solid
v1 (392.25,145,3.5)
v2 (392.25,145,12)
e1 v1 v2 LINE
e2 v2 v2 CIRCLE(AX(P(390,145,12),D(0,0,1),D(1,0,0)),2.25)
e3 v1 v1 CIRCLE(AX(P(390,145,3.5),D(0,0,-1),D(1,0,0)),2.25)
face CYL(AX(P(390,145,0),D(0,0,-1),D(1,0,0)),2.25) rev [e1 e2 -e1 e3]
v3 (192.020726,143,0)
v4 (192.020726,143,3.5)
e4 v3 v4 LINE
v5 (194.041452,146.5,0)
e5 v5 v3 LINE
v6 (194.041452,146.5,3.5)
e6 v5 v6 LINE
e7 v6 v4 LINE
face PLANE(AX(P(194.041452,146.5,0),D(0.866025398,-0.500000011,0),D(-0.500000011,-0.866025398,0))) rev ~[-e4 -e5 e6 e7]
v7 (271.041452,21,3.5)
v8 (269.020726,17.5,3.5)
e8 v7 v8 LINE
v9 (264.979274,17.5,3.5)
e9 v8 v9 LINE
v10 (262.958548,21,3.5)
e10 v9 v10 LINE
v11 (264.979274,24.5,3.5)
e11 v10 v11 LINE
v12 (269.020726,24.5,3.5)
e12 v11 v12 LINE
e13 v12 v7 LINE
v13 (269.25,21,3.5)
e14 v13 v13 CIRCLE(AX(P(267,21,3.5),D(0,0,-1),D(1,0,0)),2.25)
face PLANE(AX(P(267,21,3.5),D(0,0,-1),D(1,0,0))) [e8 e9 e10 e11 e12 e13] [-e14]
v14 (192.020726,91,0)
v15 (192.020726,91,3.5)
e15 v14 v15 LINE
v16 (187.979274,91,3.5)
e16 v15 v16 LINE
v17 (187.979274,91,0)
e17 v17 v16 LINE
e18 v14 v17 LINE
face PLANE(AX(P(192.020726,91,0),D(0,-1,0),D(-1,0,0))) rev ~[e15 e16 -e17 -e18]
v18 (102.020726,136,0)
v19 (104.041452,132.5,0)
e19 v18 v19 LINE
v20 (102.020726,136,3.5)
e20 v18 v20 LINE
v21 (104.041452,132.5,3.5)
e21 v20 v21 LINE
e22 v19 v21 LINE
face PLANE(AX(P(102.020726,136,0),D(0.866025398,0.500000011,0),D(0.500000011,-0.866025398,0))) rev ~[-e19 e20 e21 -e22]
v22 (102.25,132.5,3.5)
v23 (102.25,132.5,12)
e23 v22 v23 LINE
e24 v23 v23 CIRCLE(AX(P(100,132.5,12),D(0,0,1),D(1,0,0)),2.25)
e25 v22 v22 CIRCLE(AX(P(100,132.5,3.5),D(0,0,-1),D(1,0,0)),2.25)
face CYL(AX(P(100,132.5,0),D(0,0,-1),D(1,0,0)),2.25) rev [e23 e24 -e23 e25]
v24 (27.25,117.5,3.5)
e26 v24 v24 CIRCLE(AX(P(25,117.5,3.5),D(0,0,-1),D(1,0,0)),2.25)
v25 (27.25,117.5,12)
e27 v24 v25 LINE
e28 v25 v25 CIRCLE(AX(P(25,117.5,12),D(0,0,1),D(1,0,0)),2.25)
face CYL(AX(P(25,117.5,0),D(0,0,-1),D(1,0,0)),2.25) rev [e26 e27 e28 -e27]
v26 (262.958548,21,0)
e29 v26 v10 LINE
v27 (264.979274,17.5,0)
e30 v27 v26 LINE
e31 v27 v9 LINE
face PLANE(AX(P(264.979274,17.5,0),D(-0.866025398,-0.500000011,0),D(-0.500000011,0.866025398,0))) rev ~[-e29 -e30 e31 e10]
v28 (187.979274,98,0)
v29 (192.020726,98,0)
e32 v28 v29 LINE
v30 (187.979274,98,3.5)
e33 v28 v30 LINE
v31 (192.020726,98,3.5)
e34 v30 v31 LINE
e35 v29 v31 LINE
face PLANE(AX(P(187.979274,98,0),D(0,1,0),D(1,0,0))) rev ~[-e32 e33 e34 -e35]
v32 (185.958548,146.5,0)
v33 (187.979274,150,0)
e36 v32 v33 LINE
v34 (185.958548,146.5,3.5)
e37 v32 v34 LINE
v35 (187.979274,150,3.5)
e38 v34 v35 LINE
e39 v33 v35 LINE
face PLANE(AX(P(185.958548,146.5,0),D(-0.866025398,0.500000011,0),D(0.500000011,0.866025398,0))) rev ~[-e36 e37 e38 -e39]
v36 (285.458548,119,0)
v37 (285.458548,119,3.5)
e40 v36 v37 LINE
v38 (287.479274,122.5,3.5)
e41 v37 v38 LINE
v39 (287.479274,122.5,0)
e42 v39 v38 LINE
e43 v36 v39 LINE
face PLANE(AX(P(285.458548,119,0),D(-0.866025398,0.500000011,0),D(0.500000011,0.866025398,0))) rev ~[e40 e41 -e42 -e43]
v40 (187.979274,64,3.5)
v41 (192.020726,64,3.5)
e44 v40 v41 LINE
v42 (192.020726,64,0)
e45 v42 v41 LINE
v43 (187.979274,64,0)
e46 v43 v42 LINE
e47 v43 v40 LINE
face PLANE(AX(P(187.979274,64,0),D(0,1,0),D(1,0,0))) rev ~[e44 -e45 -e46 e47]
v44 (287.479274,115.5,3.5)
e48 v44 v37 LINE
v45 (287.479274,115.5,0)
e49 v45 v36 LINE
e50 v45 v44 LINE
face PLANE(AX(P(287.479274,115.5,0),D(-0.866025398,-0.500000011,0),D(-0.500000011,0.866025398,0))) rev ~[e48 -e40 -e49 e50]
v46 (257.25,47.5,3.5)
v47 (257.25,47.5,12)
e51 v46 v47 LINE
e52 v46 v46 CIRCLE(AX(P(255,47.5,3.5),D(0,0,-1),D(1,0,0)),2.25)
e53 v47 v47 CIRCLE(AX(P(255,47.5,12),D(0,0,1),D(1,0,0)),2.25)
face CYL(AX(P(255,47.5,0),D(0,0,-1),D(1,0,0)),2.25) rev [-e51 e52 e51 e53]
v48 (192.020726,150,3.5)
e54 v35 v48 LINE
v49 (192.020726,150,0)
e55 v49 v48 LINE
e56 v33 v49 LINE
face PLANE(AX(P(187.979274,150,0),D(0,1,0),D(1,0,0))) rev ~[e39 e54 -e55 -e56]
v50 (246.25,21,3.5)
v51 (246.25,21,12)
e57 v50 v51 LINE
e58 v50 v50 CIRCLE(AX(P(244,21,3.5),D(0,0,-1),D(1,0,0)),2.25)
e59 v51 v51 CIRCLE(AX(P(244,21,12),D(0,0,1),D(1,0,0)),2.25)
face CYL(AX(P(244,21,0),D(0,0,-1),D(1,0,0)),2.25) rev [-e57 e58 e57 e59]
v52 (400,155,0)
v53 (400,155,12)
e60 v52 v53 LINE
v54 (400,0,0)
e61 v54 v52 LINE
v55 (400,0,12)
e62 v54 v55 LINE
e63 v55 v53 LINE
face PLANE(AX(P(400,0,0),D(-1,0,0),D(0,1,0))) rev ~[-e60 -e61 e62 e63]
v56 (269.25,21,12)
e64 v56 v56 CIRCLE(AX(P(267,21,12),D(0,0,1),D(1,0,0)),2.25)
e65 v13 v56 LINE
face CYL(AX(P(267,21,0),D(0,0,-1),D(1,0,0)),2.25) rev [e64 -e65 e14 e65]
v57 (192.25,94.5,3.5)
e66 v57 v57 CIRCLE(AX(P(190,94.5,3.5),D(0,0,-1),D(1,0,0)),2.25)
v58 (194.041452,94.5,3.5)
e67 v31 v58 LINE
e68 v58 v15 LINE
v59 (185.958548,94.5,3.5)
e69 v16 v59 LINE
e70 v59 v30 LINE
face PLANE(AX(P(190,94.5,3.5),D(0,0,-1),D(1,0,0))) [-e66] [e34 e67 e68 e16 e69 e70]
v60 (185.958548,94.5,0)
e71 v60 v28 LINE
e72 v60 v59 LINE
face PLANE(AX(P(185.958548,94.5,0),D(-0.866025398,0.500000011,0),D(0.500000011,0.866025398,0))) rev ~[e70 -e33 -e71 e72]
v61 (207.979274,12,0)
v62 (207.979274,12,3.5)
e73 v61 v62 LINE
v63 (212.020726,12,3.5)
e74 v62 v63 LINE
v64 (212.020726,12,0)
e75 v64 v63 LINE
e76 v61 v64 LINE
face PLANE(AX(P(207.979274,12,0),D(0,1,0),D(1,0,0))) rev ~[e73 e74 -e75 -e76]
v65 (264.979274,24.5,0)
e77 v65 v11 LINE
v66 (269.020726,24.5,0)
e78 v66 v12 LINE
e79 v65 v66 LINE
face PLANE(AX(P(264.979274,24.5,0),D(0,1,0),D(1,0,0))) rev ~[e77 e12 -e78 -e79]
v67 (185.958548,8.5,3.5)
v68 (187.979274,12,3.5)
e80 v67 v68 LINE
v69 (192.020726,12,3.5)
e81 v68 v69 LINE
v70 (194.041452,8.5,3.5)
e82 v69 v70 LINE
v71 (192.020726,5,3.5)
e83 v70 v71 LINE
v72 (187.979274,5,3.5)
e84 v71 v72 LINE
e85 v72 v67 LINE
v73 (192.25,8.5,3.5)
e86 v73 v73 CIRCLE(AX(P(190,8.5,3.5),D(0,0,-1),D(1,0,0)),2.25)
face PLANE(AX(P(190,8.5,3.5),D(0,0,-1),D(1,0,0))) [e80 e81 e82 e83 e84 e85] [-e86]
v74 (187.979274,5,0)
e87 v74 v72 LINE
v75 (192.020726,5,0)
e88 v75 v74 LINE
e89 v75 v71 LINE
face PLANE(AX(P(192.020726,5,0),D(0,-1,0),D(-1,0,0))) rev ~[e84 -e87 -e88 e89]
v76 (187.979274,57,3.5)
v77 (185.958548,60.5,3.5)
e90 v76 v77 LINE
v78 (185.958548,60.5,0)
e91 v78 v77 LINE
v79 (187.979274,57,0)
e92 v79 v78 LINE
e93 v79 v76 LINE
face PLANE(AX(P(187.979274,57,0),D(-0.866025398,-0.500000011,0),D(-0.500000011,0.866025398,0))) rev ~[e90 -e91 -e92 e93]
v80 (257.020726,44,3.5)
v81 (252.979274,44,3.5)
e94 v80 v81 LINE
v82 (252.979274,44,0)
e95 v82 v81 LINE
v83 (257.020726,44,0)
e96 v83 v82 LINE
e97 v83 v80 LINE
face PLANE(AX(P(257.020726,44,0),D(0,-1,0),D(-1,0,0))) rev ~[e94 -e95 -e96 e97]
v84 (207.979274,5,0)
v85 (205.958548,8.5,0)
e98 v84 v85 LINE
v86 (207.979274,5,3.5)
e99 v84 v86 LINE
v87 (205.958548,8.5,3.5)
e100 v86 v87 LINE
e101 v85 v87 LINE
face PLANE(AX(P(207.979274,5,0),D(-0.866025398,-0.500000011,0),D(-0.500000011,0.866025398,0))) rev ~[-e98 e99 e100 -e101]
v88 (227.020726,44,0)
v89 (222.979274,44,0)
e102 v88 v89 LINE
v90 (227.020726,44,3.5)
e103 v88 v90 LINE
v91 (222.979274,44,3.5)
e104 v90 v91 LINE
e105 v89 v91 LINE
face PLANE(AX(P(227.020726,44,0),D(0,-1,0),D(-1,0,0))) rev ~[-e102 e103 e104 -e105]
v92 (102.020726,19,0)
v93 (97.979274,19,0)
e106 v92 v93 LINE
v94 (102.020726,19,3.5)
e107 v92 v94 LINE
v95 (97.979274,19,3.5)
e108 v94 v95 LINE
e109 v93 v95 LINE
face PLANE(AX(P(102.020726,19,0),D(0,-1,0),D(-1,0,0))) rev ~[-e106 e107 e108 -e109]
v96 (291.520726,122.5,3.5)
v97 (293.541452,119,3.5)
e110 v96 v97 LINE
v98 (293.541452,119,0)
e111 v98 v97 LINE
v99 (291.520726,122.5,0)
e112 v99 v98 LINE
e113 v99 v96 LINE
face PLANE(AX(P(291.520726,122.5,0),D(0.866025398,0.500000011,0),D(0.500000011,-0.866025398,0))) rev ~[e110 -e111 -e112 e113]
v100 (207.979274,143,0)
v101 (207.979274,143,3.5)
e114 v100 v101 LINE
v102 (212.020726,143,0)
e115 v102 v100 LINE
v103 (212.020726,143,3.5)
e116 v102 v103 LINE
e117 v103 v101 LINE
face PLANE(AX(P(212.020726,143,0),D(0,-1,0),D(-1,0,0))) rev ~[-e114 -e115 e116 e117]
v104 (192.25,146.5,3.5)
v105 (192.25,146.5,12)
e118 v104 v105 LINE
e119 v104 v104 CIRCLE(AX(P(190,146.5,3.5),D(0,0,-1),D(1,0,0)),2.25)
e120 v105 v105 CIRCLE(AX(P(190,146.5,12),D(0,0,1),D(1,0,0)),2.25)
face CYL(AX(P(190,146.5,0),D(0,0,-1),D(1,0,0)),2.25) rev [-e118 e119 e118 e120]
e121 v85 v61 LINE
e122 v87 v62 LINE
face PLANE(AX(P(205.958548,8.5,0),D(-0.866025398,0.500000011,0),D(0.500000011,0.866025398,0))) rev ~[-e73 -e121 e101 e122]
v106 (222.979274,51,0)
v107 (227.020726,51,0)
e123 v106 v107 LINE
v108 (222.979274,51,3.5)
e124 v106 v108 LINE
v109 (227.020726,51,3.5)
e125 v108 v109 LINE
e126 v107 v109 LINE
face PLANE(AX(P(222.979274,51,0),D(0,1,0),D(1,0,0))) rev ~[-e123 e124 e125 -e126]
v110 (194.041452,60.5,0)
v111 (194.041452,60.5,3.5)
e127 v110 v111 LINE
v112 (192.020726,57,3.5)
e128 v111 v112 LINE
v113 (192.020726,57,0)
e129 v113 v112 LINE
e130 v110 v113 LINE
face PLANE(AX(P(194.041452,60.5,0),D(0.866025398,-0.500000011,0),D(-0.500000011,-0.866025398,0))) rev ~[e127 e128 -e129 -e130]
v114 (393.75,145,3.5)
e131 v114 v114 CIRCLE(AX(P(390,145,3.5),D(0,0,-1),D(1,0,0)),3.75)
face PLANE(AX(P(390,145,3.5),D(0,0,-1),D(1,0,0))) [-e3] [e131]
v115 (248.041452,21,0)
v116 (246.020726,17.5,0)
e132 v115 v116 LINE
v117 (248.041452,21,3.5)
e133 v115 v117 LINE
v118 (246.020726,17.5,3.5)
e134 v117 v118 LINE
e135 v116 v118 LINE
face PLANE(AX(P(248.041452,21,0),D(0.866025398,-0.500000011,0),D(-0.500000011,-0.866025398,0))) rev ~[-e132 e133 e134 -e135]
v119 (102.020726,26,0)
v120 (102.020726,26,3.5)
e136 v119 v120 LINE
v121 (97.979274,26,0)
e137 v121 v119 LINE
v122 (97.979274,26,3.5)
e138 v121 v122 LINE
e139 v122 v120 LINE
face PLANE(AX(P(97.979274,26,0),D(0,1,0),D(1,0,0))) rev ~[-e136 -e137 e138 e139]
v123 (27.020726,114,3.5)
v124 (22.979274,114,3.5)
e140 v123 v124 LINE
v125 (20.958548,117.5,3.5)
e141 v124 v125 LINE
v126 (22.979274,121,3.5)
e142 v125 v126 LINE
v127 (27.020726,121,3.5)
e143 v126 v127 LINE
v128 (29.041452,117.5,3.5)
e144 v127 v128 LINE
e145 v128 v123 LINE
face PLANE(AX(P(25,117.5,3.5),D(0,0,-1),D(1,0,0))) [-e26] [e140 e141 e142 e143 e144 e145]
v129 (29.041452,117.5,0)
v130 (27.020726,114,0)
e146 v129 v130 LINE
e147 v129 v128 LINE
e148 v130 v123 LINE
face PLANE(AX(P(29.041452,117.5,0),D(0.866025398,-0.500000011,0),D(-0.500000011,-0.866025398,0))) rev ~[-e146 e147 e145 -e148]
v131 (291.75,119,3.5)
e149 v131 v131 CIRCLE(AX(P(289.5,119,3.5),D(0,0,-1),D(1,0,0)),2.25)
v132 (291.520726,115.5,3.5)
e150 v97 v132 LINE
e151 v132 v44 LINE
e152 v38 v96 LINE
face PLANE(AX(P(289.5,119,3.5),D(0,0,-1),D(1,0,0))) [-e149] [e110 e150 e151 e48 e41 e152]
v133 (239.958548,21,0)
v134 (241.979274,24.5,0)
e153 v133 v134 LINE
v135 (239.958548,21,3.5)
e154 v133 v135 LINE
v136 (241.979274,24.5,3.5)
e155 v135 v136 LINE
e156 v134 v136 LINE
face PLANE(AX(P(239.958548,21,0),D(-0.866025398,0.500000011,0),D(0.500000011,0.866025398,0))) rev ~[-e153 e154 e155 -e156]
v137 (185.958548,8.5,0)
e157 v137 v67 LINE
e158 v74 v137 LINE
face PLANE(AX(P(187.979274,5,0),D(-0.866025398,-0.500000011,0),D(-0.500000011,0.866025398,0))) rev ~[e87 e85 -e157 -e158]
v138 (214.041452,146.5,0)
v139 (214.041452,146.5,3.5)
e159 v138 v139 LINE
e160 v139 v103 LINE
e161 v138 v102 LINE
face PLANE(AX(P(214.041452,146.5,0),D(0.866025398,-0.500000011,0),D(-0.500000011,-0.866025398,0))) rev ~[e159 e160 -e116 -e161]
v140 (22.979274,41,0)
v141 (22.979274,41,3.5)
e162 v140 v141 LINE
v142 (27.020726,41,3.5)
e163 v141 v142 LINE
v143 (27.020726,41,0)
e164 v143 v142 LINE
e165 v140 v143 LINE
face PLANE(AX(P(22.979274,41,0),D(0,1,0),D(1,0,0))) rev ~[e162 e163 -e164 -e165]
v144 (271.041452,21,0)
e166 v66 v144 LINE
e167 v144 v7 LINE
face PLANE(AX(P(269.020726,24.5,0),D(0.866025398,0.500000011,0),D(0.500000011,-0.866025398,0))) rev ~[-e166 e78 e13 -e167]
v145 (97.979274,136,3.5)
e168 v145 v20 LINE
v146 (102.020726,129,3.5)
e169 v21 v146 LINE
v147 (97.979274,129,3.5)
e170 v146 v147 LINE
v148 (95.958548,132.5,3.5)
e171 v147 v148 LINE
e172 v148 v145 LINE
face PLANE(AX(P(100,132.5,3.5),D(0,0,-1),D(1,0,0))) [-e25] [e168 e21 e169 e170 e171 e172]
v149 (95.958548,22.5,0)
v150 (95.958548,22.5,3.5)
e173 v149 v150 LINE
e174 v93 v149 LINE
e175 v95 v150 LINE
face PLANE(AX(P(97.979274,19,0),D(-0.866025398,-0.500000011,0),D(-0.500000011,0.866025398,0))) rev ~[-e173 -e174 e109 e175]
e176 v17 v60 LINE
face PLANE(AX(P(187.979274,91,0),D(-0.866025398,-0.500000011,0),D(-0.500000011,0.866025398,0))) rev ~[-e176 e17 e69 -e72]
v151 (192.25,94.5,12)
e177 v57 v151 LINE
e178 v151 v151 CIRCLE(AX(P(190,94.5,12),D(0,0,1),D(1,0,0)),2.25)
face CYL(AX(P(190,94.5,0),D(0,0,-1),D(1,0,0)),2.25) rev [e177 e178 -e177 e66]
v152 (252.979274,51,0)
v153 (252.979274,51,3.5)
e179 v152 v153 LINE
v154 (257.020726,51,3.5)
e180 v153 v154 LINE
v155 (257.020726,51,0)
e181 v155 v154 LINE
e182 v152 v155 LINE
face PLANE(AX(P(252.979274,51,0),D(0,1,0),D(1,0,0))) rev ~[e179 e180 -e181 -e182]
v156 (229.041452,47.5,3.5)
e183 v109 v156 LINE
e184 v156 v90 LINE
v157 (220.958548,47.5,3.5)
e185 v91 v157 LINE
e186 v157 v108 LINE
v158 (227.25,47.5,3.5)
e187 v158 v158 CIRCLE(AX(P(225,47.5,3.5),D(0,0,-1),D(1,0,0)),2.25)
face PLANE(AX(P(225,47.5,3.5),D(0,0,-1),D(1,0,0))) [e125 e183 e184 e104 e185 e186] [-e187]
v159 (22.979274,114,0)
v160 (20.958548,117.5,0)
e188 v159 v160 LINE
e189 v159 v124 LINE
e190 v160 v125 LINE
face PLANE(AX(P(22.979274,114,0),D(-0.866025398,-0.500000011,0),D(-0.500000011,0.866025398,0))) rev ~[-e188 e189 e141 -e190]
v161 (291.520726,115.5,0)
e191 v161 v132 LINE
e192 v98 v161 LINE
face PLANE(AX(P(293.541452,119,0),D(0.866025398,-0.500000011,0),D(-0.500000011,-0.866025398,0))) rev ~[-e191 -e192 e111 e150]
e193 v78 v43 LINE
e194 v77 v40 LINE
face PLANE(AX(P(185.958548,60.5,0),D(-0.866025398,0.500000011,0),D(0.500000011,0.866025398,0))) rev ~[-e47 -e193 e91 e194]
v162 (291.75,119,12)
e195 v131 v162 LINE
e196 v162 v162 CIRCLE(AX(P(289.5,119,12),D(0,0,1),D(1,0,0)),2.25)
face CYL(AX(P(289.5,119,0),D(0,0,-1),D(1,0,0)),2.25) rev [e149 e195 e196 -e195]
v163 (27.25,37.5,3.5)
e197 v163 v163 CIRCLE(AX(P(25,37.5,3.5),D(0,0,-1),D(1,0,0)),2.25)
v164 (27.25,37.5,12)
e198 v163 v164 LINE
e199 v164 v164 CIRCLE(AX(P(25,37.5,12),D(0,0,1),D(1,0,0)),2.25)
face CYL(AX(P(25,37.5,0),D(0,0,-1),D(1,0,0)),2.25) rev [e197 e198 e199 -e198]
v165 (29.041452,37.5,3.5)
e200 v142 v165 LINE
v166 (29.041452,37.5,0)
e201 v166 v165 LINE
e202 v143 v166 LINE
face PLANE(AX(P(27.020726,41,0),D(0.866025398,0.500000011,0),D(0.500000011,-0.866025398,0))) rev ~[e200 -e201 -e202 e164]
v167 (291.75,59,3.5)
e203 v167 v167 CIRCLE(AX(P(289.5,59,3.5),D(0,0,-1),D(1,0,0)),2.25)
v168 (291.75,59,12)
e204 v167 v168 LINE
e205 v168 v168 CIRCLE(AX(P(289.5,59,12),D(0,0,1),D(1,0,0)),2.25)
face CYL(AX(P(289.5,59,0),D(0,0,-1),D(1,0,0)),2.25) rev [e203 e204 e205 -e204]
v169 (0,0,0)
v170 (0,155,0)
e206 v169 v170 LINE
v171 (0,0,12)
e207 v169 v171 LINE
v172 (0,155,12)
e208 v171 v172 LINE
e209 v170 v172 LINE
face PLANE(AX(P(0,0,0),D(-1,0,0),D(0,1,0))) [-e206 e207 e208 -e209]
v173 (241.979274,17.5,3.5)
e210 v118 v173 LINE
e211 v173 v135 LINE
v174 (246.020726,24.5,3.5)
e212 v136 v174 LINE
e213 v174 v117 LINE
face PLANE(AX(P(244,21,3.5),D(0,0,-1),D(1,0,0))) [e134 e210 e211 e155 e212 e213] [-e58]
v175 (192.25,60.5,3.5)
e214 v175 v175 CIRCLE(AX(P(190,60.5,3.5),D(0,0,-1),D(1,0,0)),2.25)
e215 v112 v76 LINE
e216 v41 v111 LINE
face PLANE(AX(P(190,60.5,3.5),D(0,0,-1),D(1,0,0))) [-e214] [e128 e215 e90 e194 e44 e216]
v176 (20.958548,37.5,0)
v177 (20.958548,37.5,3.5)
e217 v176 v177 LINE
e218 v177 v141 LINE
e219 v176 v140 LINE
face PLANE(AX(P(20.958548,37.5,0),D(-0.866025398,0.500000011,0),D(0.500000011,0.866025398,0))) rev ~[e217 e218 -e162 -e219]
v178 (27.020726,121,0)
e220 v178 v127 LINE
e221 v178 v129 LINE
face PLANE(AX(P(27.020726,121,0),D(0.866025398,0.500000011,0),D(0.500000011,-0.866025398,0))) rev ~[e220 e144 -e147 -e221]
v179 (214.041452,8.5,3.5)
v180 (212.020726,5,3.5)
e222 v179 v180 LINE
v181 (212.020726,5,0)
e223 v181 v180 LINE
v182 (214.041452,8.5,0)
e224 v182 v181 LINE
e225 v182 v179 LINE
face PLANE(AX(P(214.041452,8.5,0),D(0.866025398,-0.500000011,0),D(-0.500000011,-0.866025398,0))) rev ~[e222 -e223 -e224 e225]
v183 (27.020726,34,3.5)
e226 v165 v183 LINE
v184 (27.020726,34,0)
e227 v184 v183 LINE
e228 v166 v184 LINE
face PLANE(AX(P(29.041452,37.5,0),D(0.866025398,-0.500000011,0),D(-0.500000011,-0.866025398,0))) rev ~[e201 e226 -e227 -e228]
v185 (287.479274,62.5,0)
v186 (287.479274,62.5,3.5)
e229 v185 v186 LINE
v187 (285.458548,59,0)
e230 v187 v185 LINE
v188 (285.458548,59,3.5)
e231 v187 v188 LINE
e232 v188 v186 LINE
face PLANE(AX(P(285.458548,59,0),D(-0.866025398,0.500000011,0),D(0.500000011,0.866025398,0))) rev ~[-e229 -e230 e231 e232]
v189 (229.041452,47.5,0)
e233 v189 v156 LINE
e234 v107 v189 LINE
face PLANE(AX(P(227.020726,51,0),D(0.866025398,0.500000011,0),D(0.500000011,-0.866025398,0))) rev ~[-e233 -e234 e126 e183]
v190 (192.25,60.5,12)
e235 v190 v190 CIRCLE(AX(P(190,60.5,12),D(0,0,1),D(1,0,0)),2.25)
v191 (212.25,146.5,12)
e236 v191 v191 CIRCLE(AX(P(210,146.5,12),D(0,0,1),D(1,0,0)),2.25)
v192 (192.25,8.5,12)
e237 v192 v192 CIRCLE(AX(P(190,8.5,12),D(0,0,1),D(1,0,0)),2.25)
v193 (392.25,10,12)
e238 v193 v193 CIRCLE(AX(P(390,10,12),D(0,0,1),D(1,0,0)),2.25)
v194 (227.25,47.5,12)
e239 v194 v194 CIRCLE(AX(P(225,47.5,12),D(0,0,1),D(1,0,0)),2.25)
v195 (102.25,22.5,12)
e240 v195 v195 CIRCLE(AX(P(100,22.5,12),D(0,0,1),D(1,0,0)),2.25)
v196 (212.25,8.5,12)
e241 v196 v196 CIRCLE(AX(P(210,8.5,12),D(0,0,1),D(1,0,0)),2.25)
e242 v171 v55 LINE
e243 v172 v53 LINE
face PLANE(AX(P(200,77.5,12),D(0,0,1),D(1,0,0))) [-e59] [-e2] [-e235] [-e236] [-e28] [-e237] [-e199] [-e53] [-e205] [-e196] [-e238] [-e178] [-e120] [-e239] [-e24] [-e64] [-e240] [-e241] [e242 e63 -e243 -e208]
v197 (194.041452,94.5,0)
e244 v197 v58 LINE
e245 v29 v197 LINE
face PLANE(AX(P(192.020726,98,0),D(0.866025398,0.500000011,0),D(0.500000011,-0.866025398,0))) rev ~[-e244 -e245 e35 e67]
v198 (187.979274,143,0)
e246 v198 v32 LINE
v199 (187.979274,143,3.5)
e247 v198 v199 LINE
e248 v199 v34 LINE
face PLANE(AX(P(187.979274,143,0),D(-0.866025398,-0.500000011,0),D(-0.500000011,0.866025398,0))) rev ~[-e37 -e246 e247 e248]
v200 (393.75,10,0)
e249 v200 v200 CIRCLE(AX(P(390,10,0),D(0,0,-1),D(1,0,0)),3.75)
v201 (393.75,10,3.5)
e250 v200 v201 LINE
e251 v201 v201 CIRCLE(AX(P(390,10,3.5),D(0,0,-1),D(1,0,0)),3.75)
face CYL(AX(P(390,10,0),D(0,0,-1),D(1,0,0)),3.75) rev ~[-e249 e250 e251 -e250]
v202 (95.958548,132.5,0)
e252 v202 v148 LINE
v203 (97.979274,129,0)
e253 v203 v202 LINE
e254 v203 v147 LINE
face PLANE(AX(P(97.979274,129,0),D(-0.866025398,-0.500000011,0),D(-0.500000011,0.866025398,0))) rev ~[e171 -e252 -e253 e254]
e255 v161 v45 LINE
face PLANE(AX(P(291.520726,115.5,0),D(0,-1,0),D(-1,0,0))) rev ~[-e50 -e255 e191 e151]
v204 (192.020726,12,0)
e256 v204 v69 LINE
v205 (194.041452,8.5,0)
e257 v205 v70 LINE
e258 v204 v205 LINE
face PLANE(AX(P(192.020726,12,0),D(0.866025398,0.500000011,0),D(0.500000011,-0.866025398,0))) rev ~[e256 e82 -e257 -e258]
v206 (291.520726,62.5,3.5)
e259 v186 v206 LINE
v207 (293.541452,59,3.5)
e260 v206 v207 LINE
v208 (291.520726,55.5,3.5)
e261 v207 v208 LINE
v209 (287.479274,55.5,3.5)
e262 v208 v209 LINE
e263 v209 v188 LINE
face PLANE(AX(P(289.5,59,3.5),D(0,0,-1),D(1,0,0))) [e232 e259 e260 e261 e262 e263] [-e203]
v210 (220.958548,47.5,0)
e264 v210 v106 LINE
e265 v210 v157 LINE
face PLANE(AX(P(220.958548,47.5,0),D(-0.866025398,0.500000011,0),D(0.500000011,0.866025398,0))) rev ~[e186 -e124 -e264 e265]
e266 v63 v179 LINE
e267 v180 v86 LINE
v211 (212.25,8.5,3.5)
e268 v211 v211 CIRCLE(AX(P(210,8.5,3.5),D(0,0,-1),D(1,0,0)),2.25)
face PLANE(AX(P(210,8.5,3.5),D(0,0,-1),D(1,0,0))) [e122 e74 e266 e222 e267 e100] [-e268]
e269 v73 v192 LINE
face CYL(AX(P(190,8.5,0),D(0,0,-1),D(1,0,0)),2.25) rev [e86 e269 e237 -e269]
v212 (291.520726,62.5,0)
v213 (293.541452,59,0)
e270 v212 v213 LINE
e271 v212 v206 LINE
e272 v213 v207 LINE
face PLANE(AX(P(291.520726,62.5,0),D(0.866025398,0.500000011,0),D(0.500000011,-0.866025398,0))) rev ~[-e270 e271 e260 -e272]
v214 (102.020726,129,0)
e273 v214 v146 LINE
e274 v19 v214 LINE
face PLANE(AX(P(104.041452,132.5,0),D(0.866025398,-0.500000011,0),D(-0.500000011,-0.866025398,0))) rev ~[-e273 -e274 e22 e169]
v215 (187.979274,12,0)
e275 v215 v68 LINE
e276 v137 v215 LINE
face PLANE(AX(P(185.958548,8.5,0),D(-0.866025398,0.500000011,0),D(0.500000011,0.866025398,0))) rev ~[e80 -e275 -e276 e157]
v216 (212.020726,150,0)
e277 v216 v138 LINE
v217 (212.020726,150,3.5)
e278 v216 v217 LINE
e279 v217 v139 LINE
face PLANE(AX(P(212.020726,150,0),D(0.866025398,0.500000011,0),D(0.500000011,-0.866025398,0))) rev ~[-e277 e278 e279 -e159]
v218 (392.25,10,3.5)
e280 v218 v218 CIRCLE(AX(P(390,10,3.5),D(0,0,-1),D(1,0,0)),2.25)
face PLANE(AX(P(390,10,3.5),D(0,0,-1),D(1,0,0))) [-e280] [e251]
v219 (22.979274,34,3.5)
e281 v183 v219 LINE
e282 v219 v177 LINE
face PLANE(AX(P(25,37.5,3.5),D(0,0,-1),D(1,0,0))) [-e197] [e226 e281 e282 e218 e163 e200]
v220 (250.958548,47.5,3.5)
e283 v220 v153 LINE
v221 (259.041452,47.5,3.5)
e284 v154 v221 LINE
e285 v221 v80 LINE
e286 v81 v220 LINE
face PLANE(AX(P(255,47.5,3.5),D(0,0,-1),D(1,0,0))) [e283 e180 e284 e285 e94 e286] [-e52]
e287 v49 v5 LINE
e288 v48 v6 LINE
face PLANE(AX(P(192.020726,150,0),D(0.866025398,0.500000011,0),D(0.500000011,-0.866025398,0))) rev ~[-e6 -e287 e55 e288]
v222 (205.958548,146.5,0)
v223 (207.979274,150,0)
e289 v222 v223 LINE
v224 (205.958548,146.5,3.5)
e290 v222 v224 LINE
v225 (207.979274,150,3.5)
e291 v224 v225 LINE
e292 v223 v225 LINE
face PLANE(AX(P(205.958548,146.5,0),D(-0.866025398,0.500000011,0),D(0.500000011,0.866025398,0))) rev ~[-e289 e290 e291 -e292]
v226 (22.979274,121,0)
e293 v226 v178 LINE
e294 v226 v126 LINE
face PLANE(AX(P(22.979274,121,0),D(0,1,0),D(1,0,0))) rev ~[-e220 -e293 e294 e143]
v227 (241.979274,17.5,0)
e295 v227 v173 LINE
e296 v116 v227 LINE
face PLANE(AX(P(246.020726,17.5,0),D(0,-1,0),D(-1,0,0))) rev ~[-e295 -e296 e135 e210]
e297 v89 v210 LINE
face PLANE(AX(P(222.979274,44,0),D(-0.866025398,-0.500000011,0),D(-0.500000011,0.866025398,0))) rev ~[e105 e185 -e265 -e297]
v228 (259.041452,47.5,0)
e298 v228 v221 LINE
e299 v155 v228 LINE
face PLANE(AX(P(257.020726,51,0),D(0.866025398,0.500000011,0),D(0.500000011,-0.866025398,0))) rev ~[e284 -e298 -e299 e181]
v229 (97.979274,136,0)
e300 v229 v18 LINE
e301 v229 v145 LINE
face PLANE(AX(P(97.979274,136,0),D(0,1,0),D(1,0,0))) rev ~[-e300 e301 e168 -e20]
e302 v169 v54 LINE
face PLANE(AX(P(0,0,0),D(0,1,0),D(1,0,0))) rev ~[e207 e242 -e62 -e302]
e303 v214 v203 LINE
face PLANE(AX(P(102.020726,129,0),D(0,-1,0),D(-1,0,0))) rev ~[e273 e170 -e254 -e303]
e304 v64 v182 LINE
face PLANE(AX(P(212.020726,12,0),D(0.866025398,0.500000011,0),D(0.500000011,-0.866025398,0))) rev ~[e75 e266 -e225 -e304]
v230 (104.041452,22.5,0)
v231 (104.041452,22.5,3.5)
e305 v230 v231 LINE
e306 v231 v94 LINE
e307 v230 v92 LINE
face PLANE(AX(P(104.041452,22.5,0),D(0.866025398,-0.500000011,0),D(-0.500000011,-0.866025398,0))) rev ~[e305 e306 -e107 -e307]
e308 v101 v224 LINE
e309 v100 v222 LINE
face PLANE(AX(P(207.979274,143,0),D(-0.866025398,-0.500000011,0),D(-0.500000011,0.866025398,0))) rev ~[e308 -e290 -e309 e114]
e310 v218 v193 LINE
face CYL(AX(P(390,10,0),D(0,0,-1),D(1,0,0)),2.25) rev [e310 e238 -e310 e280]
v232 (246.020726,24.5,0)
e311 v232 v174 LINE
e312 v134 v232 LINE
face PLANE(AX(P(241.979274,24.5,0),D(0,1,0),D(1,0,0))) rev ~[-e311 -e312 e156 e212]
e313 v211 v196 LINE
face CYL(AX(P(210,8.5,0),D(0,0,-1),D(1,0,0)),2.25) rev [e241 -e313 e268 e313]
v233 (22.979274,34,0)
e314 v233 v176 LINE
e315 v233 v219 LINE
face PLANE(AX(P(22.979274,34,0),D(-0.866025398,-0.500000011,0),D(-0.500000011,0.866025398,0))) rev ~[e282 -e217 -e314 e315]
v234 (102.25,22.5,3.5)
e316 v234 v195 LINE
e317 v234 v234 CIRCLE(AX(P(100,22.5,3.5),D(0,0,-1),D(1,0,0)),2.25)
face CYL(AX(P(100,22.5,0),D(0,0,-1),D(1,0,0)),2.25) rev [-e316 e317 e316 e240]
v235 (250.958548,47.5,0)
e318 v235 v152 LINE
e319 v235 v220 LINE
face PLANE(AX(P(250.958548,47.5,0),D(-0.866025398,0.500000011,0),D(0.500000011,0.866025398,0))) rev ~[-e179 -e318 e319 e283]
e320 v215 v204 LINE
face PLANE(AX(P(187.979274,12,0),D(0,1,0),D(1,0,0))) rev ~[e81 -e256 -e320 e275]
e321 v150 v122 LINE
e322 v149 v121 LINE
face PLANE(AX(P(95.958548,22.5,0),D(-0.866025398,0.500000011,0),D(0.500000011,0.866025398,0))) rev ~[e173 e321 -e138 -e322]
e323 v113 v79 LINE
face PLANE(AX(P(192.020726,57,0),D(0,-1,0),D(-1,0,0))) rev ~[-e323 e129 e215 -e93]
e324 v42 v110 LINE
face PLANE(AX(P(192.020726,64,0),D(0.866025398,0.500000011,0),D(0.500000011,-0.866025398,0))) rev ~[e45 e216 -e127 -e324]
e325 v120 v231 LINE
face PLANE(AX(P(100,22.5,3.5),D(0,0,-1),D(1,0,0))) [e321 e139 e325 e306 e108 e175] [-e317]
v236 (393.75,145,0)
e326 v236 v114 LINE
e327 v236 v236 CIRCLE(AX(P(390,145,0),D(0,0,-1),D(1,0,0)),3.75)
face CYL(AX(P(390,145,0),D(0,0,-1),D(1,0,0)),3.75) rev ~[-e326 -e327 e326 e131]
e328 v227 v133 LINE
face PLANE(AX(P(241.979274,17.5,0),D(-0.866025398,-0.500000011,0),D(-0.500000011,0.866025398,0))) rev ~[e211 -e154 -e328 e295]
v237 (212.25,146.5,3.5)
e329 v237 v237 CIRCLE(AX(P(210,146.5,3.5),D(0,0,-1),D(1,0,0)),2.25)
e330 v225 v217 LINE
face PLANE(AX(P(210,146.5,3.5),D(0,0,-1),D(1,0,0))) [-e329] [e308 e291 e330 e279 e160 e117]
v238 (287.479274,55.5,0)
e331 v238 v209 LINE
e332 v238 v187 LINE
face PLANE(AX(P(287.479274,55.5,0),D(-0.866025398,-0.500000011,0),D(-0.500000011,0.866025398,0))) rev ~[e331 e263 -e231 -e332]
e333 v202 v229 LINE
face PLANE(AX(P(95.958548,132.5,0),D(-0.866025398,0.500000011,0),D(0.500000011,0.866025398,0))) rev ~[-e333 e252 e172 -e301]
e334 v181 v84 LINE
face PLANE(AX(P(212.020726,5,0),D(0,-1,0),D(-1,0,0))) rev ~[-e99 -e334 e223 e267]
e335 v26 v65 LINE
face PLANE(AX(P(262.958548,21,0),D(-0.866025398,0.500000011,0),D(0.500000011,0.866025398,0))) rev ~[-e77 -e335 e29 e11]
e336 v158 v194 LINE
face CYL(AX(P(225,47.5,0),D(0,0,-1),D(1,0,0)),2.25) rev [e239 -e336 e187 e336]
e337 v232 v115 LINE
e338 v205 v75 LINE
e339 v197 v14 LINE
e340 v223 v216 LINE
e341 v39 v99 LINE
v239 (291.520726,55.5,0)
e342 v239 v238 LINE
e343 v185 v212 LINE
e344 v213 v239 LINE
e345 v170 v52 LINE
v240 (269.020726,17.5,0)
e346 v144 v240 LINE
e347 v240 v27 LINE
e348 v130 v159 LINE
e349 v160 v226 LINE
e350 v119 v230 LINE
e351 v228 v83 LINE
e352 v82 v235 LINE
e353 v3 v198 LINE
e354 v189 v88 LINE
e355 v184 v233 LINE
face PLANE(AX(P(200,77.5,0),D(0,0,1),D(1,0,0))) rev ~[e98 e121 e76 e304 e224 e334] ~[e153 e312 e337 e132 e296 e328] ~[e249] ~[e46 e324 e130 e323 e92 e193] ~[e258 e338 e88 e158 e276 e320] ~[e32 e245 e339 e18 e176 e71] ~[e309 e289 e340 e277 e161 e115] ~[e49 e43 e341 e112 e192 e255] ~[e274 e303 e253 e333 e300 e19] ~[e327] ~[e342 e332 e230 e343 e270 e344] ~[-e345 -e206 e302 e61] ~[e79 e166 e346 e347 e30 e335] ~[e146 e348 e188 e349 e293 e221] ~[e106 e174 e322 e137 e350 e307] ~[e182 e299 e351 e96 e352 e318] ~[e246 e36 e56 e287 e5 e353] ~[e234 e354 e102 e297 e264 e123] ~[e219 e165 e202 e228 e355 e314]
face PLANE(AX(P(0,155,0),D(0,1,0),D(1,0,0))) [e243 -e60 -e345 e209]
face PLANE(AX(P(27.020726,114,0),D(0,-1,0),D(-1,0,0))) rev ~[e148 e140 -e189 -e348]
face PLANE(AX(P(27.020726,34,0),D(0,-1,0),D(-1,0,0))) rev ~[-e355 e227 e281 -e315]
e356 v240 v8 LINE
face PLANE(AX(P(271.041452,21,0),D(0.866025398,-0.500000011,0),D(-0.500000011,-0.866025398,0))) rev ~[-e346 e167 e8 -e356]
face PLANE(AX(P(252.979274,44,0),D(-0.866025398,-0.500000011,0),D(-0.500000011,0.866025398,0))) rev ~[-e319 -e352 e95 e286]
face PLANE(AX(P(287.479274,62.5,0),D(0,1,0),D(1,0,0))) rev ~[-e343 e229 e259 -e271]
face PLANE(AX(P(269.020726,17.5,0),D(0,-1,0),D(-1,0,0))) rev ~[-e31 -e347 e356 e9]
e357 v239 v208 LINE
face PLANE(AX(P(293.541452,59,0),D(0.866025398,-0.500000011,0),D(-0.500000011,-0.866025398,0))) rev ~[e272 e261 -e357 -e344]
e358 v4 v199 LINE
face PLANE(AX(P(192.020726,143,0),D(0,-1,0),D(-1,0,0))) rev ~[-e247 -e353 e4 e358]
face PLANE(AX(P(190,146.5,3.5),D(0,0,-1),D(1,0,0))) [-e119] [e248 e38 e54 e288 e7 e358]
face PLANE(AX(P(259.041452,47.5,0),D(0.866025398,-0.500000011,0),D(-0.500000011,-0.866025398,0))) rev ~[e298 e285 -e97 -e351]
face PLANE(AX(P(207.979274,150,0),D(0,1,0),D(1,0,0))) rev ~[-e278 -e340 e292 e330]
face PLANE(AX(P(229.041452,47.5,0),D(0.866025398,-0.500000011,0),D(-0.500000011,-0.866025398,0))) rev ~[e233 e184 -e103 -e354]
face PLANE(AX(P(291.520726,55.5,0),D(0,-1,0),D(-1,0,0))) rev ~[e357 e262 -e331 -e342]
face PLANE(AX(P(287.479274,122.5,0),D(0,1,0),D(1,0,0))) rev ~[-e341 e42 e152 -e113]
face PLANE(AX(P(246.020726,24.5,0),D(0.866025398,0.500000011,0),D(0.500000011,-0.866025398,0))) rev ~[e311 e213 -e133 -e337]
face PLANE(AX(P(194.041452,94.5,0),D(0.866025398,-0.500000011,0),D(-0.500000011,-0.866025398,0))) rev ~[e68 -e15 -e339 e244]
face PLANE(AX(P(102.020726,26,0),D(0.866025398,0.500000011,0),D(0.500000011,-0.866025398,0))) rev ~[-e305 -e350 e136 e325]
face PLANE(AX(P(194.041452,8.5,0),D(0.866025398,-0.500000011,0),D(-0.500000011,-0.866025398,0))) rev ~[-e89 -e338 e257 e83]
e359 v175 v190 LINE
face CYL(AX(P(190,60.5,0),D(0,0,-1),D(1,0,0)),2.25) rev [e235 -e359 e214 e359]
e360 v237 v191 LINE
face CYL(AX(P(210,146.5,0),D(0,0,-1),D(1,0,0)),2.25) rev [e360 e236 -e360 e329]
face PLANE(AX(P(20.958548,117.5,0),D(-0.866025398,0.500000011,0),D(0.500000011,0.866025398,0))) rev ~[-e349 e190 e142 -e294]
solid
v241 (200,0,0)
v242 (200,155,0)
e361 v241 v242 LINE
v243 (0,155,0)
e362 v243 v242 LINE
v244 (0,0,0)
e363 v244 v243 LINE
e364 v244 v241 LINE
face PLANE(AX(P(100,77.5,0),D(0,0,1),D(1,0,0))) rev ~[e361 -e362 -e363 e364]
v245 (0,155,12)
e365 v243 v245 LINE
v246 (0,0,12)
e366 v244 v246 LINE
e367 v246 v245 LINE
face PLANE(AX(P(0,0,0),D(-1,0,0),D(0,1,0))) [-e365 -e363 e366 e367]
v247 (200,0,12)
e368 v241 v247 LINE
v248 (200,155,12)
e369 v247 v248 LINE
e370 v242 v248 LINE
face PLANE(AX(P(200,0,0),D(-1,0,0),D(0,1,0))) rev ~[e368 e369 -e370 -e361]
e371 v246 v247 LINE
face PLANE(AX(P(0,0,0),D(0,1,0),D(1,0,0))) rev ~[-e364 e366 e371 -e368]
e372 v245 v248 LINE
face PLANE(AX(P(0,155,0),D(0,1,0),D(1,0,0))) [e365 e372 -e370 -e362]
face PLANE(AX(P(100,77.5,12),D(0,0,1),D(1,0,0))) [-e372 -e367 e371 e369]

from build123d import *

# Parameters (mm, degrees)
SKETCH_W     = 400
SKETCH_H     = 155
SKETCH_R     = 2.25
PAD_DEPTH    = 12
SKETCH001_R  = 3.75
POCKET_DEPTH = 3.5
BOX_W        = 200
BOX_H        = 155
BOX_DEPTH    = 12


with BuildPart() as body:
    # Sketch → Pad (new body)
    with BuildSketch(Plane.XY):
        with Locations((200, 77.5)):
            Rectangle(SKETCH_W, SKETCH_H)
        with Locations((190, 8.5)):
            Circle(SKETCH_R, mode=Mode.SUBTRACT)
        with Locations((190, 146.5)):
            Circle(SKETCH_R, mode=Mode.SUBTRACT)
        with Locations((210, 8.5)):
            Circle(SKETCH_R, mode=Mode.SUBTRACT)
        with Locations((210, 146.5)):
            Circle(SKETCH_R, mode=Mode.SUBTRACT)
        with Locations((25, 37.5)):
            Circle(SKETCH_R, mode=Mode.SUBTRACT)
        with Locations((25, 117.5)):
            Circle(SKETCH_R, mode=Mode.SUBTRACT)
        with Locations((100, 22.5)):
            Circle(SKETCH_R, mode=Mode.SUBTRACT)
        with Locations((100, 132.5)):
            Circle(SKETCH_R, mode=Mode.SUBTRACT)
        with Locations((190, 60.5)):
            Circle(SKETCH_R, mode=Mode.SUBTRACT)
        with Locations((190, 94.5)):
            Circle(SKETCH_R, mode=Mode.SUBTRACT)
        with Locations((390, 10)):
            Circle(SKETCH_R, mode=Mode.SUBTRACT)
        with Locations((390, 145)):
            Circle(SKETCH_R, mode=Mode.SUBTRACT)
        with Locations((225, 47.5)):
            Circle(SKETCH_R, mode=Mode.SUBTRACT)
        with Locations((255, 47.5)):
            Circle(SKETCH_R, mode=Mode.SUBTRACT)
        with Locations((244, 21)):
            Circle(SKETCH_R, mode=Mode.SUBTRACT)
        with Locations((267, 21)):
            Circle(SKETCH_R, mode=Mode.SUBTRACT)
        with Locations((289.5, 59)):
            Circle(SKETCH_R, mode=Mode.SUBTRACT)
        with Locations((289.5, 119)):
            Circle(SKETCH_R, mode=Mode.SUBTRACT)
    extrude(amount=PAD_DEPTH)

    # Sketch001 (on Face23 of Pad) → Pocket (cut)
    with BuildSketch(Plane(origin=(0, 0, 0), x_dir=(1, 0, 0), z_dir=(0, 0, -1))):
        with Locations((390, -145)):
            Circle(SKETCH001_R)
        with Locations((390, -10)):
            Circle(SKETCH001_R)
        Polygon((29.041452, -37.5), (27.020726, -34), (22.979274, -34), (20.958548, -37.5), (22.979274, -41), (27.020726, -41), align=None)
        Polygon((102.020726, -26), (104.041452, -22.5), (102.020726, -19), (97.979274, -19), (95.958548, -22.5), (97.979274, -26), align=None)
        Polygon((194.041452, -60.5), (192.020726, -57), (187.979274, -57), (185.958548, -60.5), (187.979274, -64), (192.020726, -64), align=None)
        Polygon((27.020726, -114), (22.979274, -114), (20.958548, -117.5), (22.979274, -121), (27.020726, -121), (29.041452, -117.5), align=None)
        Polygon((192.020726, -5), (187.979274, -5), (185.958548, -8.5), (187.979274, -12), (192.020726, -12), (194.041452, -8.5), align=None)
        Polygon((102.020726, -129), (97.979274, -129), (95.958548, -132.5), (97.979274, -136), (102.020726, -136), (104.041452, -132.5), align=None)
        Polygon((192.020726, -91), (187.979274, -91), (185.958548, -94.5), (187.979274, -98), (192.020726, -98), (194.041452, -94.5), align=None)
        Polygon((192.020726, -143), (187.979274, -143), (185.958548, -146.5), (187.979274, -150), (192.020726, -150), (194.041452, -146.5), align=None)
        Polygon((212.020726, -12), (214.041452, -8.5), (212.020726, -5), (207.979274, -5), (205.958548, -8.5), (207.979274, -12), align=None)
        Polygon((212.020726, -143), (207.979274, -143), (205.958548, -146.5), (207.979274, -150), (212.020726, -150), (214.041452, -146.5), align=None)
        Polygon((248.041452, -21), (246.020726, -17.5), (241.979274, -17.5), (239.958548, -21), (241.979274, -24.5), (246.020726, -24.5), align=None)
        Polygon((271.041452, -21), (269.020726, -17.5), (264.979274, -17.5), (262.958548, -21), (264.979274, -24.5), (269.020726, -24.5), align=None)
        Polygon((229.041452, -47.5), (227.020726, -44), (222.979274, -44), (220.958548, -47.5), (222.979274, -51), (227.020726, -51), align=None)
        Polygon((259.041452, -47.5), (257.020726, -44), (252.979274, -44), (250.958548, -47.5), (252.979274, -51), (257.020726, -51), align=None)
        Polygon((293.541452, -59), (291.520726, -55.5), (287.479274, -55.5), (285.458548, -59), (287.479274, -62.5), (291.520726, -62.5), align=None)
        Polygon((291.520726, -115.5), (287.479274, -115.5), (285.458548, -119), (287.479274, -122.5), (291.520726, -122.5), (293.541452, -119), align=None)
    extrude(amount=-POCKET_DEPTH, mode=Mode.SUBTRACT)


with BuildPart() as cube:
    # Box → Box (new body)
    with BuildSketch(Plane.XY):
        with Locations((100, 77.5)):
            Rectangle(BOX_W, BOX_H)
    extrude(amount=BOX_DEPTH)


solid = Compound([body.part, cube.part])
